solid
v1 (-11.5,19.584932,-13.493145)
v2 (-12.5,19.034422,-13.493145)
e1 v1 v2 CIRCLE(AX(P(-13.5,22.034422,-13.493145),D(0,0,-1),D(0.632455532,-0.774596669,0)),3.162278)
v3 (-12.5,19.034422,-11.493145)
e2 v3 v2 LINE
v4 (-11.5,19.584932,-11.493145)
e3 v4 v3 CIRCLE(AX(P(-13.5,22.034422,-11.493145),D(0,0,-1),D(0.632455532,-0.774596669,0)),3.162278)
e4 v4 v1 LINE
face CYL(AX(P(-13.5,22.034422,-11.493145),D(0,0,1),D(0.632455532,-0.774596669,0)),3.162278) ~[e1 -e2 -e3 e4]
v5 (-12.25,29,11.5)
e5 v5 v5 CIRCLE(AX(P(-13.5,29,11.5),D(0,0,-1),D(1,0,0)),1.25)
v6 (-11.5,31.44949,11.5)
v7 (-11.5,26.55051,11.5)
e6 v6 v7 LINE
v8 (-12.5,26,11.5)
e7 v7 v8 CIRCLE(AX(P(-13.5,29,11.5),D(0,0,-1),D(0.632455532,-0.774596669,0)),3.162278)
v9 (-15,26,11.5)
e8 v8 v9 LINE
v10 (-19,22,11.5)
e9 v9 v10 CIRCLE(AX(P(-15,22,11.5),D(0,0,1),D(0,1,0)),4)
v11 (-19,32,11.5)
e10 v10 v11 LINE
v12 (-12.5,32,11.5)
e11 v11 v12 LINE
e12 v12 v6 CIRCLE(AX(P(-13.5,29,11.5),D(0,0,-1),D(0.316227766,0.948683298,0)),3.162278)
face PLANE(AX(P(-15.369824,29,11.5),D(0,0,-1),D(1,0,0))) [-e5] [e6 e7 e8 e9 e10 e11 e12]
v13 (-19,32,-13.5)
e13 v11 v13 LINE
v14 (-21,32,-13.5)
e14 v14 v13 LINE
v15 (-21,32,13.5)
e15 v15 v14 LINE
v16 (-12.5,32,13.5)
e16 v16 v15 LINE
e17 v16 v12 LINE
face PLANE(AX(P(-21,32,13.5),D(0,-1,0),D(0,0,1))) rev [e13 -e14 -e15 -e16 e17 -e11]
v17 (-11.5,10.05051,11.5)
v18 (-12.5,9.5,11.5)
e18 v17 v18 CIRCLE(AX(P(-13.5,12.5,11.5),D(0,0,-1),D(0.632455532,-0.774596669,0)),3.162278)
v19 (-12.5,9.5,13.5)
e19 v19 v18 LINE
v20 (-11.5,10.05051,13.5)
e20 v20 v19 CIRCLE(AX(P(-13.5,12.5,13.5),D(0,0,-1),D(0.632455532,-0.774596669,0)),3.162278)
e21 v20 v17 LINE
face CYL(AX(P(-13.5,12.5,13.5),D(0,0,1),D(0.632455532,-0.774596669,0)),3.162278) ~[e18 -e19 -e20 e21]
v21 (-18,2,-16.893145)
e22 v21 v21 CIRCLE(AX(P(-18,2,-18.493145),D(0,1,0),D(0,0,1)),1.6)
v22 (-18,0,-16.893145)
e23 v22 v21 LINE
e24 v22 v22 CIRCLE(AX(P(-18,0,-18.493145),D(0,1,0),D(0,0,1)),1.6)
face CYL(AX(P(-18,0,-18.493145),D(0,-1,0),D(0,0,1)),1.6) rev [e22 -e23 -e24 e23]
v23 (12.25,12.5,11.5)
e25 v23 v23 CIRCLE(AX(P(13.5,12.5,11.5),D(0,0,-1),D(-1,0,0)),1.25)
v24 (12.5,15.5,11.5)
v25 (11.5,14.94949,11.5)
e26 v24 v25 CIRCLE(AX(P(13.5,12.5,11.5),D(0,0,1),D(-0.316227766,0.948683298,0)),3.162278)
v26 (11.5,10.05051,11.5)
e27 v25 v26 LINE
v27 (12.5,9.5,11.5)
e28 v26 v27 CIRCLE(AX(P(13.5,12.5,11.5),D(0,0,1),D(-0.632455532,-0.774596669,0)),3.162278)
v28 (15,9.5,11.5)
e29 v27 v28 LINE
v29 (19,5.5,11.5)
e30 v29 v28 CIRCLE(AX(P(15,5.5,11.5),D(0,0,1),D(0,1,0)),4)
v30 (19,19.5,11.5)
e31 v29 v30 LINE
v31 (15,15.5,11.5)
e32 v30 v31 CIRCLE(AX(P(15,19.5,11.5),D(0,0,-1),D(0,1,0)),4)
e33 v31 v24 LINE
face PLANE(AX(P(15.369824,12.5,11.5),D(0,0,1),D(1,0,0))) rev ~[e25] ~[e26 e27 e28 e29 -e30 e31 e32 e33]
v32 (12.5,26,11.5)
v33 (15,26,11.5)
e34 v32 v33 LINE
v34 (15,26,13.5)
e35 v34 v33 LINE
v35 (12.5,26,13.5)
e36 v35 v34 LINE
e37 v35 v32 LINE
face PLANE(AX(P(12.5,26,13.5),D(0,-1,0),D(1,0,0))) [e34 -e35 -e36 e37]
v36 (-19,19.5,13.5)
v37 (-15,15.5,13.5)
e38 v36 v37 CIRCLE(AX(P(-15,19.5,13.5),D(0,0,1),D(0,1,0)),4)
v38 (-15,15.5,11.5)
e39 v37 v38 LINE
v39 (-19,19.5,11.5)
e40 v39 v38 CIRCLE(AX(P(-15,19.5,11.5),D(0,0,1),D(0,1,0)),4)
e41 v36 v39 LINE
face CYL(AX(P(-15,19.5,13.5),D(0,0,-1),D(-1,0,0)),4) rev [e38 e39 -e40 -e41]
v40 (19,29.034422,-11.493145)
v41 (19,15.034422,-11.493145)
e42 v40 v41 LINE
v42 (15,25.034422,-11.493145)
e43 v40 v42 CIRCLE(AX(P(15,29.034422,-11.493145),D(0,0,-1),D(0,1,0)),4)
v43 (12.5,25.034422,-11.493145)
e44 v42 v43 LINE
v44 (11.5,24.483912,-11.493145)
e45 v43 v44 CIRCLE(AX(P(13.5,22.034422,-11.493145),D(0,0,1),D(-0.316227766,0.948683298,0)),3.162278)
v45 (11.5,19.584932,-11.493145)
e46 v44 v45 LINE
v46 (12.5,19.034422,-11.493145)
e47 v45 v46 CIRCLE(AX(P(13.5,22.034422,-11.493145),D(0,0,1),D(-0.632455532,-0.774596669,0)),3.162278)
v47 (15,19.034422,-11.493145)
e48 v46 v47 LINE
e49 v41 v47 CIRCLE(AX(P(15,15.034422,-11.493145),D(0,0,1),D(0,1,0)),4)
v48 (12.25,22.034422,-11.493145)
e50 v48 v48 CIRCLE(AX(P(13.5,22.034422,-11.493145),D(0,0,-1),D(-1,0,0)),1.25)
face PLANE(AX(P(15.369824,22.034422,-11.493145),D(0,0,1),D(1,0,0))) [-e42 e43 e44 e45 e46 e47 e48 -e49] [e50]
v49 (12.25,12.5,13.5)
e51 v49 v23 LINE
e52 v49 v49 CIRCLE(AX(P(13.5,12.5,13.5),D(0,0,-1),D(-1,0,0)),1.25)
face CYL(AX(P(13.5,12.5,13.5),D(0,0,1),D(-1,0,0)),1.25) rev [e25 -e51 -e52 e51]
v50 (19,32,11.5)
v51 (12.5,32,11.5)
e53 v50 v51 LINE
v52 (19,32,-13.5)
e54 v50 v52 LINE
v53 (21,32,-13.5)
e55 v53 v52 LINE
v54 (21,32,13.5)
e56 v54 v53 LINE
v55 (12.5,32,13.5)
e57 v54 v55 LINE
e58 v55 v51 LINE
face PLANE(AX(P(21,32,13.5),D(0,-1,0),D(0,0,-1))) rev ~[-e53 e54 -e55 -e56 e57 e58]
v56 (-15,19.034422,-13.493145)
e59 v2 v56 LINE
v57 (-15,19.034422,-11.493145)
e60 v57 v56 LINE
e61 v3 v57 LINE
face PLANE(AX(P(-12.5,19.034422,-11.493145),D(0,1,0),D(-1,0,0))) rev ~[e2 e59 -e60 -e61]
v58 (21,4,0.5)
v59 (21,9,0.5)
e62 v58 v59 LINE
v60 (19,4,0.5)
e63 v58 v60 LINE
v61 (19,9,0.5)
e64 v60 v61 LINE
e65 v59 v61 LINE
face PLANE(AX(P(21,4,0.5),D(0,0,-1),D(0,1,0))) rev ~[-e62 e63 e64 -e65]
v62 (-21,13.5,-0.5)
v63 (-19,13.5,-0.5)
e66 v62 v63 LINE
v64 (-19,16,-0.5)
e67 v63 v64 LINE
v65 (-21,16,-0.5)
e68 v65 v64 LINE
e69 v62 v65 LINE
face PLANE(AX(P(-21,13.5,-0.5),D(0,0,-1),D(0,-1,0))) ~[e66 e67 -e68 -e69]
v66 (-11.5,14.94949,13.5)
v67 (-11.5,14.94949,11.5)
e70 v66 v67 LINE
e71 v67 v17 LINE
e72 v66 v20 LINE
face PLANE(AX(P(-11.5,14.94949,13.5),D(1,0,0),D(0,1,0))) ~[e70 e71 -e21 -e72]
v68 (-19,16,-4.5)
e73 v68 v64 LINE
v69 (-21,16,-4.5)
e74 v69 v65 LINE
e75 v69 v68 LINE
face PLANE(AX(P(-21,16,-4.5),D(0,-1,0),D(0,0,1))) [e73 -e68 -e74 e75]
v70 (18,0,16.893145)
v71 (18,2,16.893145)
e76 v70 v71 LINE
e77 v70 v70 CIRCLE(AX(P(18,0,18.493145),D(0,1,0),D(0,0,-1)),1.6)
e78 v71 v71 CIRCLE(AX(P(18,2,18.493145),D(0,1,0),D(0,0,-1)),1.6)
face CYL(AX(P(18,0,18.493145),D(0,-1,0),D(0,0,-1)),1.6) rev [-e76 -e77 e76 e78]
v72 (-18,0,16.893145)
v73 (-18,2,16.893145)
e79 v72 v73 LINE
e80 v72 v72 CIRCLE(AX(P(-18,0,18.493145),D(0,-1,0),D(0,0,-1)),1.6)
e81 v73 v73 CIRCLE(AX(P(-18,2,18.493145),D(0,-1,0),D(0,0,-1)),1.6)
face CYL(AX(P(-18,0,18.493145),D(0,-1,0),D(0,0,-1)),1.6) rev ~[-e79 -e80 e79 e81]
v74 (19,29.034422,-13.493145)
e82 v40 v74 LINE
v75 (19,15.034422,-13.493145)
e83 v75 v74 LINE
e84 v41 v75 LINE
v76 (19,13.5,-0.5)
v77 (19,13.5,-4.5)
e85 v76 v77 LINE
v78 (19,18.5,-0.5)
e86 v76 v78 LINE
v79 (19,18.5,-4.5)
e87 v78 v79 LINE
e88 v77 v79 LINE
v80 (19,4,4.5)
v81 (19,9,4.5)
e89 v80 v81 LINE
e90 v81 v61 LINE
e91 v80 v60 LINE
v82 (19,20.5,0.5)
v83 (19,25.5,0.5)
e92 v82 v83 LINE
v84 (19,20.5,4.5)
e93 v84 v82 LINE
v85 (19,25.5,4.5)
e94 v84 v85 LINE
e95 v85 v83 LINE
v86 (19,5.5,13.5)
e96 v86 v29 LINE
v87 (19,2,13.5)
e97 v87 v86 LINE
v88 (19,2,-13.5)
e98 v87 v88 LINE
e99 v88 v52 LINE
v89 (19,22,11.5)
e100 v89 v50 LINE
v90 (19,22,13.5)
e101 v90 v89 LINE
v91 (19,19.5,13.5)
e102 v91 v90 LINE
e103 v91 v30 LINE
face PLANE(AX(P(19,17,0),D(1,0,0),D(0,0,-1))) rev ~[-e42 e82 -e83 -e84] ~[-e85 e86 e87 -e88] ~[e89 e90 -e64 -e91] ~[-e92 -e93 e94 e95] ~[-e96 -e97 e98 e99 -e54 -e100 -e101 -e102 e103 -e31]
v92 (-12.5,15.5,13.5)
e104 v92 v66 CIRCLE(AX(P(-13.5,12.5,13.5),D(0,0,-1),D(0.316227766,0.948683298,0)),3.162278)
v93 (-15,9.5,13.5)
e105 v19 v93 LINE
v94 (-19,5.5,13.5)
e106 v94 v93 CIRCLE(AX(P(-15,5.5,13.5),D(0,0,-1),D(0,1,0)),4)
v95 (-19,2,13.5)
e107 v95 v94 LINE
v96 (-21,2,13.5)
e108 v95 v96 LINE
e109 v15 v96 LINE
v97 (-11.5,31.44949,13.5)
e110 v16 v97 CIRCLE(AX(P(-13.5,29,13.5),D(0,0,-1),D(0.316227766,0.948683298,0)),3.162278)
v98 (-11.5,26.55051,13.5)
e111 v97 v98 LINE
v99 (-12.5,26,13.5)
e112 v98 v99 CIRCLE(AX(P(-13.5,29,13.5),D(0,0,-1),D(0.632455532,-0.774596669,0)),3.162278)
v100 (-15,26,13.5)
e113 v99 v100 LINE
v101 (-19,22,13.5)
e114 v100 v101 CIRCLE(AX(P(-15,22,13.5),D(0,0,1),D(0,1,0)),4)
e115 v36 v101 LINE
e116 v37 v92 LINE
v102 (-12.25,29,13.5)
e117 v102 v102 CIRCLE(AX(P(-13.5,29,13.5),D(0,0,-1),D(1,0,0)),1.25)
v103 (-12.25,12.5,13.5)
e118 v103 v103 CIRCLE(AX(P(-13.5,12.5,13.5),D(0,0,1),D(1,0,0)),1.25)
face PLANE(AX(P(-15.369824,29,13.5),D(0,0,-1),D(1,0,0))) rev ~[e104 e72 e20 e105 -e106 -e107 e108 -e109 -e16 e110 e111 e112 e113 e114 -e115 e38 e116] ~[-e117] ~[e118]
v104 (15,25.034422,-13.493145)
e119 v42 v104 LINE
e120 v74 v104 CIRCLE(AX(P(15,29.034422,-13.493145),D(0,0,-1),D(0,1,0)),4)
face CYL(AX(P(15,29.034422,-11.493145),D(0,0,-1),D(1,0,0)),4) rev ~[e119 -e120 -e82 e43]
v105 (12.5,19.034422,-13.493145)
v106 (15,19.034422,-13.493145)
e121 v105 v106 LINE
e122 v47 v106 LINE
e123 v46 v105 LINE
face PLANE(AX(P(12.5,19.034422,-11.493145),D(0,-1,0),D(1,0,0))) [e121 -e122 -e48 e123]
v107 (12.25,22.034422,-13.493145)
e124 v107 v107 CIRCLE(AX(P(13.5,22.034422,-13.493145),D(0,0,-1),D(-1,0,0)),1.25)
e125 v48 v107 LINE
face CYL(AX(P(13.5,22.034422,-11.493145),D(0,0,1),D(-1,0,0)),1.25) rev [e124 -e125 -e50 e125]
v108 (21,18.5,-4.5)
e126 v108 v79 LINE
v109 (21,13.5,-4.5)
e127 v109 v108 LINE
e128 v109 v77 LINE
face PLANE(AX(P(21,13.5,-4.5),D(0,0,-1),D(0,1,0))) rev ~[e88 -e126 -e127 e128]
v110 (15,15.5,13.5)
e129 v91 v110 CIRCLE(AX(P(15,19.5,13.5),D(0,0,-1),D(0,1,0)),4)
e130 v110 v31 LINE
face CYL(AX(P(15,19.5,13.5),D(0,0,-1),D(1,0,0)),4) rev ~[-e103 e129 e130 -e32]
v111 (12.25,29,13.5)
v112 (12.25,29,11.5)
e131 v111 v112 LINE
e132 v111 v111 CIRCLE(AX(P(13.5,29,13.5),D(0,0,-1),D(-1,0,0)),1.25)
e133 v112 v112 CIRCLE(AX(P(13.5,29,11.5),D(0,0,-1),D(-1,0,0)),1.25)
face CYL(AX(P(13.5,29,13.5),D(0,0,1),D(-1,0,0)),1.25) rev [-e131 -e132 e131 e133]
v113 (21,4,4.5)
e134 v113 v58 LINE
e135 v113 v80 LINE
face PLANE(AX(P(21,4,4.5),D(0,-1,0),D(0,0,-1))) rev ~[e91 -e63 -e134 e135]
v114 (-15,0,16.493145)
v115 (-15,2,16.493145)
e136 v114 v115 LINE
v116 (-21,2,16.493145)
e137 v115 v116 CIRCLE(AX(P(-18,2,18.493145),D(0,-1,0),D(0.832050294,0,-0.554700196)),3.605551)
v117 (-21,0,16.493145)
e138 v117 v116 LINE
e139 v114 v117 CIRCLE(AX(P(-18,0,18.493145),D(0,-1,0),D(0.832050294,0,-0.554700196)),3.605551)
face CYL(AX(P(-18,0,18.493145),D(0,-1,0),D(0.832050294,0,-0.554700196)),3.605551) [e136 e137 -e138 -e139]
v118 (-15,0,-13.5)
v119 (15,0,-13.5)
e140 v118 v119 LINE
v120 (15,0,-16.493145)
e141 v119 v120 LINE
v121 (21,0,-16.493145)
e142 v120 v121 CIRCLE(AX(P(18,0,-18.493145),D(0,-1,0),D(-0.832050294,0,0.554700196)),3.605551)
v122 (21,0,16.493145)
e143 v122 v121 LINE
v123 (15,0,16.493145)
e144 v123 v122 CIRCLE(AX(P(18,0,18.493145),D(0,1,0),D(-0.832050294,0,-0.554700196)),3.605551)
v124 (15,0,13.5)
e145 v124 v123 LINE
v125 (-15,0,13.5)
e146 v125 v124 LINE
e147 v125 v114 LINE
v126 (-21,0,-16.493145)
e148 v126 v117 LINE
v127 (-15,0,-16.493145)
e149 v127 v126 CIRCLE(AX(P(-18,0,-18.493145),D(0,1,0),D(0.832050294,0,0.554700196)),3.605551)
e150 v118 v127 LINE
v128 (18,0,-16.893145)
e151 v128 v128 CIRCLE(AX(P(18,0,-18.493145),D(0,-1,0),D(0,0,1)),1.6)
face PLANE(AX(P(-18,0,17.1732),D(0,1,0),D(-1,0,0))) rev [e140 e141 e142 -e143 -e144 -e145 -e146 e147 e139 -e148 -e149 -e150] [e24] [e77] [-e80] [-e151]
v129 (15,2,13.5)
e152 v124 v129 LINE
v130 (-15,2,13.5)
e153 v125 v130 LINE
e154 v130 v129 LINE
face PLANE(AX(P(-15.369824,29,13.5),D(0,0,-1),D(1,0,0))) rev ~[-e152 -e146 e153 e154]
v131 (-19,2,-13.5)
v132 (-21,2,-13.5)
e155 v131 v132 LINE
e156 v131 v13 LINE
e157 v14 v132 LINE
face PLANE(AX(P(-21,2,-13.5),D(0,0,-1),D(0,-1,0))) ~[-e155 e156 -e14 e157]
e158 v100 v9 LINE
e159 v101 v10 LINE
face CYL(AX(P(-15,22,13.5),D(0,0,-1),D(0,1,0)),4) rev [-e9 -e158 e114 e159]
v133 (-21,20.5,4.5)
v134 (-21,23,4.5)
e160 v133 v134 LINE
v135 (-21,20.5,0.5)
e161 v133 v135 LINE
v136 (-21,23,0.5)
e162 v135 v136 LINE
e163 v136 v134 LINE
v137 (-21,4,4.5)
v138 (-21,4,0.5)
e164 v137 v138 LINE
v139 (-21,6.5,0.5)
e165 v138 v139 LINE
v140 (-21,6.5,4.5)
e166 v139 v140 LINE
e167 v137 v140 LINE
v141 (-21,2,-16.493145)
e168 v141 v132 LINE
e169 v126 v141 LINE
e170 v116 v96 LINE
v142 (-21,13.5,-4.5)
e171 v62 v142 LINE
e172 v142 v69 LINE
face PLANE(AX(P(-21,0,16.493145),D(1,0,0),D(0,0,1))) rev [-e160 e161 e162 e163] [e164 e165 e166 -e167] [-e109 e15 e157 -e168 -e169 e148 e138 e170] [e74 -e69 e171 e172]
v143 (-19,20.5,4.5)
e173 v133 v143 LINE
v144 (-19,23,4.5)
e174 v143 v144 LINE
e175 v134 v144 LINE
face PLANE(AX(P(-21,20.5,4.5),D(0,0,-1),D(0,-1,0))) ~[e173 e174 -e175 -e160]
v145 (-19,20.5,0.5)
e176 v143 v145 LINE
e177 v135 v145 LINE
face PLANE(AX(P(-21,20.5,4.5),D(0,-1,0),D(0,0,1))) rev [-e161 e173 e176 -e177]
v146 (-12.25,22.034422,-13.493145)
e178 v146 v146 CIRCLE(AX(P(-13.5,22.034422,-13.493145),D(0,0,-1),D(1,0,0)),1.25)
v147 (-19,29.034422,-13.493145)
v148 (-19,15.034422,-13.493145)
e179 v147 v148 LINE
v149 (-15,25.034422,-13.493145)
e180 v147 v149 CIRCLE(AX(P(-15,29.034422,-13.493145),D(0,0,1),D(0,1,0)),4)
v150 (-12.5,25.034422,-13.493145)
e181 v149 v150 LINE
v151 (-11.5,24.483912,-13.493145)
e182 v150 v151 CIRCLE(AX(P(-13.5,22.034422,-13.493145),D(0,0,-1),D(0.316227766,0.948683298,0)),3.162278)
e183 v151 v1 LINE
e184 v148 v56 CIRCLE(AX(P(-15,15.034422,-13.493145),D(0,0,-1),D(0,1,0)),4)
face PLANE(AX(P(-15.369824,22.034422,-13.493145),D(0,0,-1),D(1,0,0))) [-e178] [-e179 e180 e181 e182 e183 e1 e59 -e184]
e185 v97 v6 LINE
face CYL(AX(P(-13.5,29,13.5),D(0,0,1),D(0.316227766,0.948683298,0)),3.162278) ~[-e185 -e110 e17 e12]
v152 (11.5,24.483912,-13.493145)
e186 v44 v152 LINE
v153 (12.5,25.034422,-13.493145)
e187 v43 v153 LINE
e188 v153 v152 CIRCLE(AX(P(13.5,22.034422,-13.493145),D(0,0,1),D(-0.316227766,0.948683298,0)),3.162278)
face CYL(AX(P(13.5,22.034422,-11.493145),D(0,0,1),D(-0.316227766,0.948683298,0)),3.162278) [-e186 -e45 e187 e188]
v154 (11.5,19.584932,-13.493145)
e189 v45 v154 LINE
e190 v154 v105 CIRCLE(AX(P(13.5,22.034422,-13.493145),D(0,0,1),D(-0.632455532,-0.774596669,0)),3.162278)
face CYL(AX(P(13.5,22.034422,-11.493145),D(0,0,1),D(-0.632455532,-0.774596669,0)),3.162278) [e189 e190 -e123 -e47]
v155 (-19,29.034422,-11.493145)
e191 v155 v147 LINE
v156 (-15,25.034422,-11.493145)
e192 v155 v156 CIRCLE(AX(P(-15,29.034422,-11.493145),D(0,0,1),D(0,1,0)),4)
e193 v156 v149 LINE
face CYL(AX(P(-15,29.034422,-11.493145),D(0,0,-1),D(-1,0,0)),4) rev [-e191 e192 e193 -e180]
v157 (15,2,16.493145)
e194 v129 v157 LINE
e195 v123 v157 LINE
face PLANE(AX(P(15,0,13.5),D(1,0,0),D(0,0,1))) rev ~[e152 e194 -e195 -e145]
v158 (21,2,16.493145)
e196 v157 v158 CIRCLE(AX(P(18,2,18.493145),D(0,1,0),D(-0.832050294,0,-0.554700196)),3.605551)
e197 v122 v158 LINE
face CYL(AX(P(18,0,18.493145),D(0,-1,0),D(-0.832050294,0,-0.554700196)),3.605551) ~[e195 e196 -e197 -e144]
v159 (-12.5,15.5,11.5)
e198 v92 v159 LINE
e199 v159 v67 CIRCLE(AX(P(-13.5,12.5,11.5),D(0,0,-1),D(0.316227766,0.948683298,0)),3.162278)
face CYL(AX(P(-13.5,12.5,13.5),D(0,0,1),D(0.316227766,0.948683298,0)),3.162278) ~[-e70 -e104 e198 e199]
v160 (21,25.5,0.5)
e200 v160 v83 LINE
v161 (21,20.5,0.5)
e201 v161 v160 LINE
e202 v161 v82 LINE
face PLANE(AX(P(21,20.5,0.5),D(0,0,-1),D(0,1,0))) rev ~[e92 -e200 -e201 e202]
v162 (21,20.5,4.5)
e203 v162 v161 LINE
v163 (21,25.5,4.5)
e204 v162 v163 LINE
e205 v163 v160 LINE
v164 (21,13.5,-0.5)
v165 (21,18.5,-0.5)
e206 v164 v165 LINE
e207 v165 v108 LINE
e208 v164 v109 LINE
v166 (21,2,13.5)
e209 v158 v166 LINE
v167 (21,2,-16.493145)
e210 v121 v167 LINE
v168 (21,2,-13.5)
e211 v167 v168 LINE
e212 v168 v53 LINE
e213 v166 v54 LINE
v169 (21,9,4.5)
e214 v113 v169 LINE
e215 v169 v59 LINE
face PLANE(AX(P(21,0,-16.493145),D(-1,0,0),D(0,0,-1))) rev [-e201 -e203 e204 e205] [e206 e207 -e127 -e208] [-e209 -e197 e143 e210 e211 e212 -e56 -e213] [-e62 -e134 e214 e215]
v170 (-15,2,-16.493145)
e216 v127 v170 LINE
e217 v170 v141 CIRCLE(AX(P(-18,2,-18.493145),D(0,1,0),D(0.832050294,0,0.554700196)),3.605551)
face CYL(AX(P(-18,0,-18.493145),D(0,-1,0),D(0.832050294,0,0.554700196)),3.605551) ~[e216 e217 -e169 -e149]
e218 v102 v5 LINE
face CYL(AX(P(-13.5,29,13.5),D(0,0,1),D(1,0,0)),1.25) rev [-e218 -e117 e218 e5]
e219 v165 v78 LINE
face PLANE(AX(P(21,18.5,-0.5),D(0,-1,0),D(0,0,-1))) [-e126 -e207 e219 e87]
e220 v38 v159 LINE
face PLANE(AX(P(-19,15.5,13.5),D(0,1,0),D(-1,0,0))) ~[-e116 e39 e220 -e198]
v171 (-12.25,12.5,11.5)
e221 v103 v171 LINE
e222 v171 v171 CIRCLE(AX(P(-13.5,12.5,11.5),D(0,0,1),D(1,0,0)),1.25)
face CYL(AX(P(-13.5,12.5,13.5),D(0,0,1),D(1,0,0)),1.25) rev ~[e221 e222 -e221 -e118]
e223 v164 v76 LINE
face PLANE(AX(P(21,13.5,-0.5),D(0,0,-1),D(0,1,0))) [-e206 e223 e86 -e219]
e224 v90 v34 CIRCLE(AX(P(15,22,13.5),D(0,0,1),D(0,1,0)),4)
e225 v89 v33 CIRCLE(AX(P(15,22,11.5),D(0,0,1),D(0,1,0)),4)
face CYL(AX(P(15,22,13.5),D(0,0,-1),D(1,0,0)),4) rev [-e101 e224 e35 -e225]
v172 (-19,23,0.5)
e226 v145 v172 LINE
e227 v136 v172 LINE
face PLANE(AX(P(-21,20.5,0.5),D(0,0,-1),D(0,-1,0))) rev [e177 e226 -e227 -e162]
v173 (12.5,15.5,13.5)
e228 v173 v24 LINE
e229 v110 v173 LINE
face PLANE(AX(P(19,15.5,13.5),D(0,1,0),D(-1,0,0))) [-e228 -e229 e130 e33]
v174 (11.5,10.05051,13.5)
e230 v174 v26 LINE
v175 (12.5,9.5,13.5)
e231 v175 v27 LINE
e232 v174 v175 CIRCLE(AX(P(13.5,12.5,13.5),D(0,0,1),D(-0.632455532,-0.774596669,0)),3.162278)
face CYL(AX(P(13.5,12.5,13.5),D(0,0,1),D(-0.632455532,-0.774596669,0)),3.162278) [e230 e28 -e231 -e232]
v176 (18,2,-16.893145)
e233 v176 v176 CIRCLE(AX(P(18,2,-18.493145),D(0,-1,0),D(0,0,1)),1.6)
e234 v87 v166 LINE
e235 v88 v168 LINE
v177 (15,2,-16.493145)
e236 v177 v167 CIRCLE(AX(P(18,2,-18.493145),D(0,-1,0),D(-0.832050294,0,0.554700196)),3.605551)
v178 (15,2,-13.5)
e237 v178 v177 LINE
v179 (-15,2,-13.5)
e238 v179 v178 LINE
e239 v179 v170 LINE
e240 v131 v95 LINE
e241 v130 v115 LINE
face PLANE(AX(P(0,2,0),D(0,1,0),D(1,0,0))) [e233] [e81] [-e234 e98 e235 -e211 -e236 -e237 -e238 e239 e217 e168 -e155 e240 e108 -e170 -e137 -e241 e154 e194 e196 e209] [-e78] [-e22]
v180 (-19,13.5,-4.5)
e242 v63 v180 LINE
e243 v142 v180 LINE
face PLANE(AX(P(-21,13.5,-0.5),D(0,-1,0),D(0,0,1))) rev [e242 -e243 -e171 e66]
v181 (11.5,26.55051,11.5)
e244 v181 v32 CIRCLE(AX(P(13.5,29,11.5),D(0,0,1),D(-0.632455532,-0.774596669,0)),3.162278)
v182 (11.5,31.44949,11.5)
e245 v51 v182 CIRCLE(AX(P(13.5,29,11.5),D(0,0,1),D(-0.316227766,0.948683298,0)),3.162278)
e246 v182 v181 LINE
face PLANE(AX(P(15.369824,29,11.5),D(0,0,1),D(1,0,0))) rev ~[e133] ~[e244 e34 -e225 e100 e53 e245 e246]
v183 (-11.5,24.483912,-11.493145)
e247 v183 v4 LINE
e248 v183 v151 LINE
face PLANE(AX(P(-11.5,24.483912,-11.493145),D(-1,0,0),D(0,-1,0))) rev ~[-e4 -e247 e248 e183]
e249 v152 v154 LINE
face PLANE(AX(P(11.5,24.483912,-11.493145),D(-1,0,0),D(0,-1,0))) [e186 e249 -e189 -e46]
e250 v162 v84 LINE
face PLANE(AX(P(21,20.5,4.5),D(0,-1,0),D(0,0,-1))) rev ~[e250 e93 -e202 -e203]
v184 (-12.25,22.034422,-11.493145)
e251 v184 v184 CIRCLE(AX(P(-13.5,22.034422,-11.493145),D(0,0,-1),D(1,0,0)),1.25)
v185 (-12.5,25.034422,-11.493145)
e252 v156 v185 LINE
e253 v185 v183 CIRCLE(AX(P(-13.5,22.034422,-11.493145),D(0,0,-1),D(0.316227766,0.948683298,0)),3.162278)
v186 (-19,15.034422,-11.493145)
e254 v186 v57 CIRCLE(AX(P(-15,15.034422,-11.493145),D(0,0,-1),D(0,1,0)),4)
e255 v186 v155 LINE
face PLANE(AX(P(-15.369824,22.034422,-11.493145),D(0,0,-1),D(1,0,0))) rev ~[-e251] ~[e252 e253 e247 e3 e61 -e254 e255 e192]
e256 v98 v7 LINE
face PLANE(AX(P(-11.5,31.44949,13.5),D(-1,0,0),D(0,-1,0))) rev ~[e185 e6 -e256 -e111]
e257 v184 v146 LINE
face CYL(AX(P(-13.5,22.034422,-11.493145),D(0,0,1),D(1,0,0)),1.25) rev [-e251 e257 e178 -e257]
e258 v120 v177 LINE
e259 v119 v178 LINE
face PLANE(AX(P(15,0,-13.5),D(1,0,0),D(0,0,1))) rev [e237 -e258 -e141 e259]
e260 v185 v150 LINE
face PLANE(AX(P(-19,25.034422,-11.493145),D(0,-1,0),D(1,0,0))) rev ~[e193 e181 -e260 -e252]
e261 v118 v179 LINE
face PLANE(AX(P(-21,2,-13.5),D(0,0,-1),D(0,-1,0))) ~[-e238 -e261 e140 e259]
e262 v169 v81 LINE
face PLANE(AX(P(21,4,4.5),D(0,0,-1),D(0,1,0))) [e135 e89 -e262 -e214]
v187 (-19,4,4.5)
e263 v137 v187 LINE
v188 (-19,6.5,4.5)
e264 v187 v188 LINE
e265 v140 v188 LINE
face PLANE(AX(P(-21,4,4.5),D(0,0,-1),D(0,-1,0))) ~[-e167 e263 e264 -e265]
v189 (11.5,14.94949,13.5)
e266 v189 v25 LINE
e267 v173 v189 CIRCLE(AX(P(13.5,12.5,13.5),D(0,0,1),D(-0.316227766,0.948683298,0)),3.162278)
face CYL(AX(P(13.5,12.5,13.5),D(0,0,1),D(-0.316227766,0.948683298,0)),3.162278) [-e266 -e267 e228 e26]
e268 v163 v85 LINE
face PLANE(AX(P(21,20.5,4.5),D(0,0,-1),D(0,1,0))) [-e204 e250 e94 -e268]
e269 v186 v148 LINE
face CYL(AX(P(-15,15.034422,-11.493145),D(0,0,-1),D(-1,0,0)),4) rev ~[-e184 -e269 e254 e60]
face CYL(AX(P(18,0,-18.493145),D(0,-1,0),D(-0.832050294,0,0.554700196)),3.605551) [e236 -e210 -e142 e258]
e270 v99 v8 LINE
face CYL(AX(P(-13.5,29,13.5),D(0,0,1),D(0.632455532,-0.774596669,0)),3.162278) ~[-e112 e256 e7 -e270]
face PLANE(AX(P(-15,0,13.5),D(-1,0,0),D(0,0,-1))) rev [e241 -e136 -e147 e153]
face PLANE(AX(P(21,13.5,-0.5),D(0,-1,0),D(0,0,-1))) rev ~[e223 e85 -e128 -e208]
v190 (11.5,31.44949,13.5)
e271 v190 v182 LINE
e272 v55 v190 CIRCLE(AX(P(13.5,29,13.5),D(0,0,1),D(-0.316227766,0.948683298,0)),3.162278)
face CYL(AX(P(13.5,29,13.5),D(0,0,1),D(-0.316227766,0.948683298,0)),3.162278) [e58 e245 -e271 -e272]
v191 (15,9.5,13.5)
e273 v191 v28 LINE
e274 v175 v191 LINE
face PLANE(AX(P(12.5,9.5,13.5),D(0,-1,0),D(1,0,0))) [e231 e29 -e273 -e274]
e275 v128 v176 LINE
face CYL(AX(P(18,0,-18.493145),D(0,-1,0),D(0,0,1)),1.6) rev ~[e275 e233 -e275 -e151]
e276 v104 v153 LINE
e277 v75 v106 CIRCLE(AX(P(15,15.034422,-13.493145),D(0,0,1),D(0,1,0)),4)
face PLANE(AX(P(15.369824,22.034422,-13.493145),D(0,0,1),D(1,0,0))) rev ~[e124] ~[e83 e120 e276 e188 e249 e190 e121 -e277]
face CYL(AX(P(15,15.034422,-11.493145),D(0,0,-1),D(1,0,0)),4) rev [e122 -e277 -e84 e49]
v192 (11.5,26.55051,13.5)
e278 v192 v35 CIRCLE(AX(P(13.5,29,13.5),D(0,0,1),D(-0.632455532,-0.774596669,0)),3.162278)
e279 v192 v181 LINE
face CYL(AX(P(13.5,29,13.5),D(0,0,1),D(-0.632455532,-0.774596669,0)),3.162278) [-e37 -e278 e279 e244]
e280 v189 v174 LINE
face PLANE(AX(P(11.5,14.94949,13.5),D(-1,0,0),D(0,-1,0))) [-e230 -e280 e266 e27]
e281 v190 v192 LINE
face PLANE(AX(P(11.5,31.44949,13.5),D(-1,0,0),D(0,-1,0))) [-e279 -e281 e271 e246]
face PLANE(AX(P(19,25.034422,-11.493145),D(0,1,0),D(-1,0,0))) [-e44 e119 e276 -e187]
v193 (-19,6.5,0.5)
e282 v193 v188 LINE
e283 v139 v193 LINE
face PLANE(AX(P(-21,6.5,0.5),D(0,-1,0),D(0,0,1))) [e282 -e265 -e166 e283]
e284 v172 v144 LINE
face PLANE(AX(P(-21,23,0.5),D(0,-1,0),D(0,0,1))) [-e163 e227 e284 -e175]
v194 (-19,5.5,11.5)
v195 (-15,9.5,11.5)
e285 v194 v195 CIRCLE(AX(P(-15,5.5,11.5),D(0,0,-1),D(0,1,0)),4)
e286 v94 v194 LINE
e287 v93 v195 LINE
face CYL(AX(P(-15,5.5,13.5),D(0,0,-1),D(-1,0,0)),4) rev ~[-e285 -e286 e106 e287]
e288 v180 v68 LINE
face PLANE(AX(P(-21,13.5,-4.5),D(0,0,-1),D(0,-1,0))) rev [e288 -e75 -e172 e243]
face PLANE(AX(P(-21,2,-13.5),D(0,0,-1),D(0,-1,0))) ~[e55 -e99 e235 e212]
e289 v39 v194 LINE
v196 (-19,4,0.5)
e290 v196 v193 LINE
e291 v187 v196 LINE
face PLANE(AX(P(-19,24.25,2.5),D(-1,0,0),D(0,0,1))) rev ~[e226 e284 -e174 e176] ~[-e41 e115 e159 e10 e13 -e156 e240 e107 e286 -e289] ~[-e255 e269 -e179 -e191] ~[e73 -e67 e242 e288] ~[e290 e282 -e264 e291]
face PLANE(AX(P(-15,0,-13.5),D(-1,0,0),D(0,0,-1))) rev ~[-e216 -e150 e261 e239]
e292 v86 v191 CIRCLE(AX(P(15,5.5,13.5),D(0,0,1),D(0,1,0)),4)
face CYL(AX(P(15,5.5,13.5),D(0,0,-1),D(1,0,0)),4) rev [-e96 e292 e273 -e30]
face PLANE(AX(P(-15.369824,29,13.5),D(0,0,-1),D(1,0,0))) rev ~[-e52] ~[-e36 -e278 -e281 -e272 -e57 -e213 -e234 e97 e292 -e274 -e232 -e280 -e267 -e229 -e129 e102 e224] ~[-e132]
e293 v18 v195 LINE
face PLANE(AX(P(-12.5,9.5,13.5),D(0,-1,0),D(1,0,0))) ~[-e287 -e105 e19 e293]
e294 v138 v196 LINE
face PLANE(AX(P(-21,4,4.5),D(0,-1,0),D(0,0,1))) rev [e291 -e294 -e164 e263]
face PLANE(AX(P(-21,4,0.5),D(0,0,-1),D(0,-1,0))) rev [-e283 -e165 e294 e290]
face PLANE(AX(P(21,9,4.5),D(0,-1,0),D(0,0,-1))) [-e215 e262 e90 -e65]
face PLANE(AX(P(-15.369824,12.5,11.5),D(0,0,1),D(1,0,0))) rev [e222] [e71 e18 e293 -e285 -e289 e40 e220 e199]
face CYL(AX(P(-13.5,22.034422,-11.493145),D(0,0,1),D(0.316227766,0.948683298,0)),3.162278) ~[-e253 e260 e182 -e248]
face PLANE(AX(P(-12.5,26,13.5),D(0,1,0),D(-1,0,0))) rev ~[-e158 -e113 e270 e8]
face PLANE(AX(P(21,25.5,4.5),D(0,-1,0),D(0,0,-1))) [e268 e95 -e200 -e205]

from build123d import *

# Parameters (mm, degrees)
SKETCH_1_W                       = 42
SKETCH_1_H                       = 27
EXTRUDE_1_DEPTH                  = 2
SKETCH_2_W                       = 27
SKETCH_2_H                       = 30
SKETCH_2_W_2                     = 4
SKETCH_2_H_2                     = 5
EXTRUDE_2_DEPTH                  = 2
SKETCH_3_W                       = 4
SKETCH_3_H                       = 2.5
EXTRUDE_3_DEPTH                  = 2
SKETCH_4_R                       = 1.25
EXTRUDE_4_DEPTH                  = 2
PATTERN_LINEAR_1_COUNT           = 2
PATTERN_LINEAR_1_PITCH           = 16.5
PATTERN_LINEAR_1_COPY_1_SKETCH_R = 1.25
PATTERN_LINEAR_1_COPY_1_DEPTH    = 2
PATTERN_LINEAR_2_COUNT           = 2
PATTERN_LINEAR_2_PITCH           = 26.75
PATTERN_LINEAR_2_COPY_1_SKETCH_R = 1.25
PATTERN_LINEAR_2_COPY_1_DEPTH    = 2
FILLET_1_R                       = 4
SKETCH_8_R                       = 1.6
EXTRUDE_5_DEPTH                  = 2
MIRROR_4_COPY_1_SKETCH_R         = 1.6
MIRROR_4_COPY_1_DEPTH            = 2


with BuildPart() as part:
    # Эскиз1 → Бобышка-Вытянуть1 (new body)
    with BuildSketch(Plane(origin=(0, 0, 0), x_dir=(1, 0, 0), z_dir=(0, 1, 0))):
        Rectangle(SKETCH_1_W, SKETCH_1_H)
    extrude(amount=EXTRUDE_1_DEPTH)

    # Эскиз2 → Бобышка-Вытянуть2 (add)
    with BuildSketch(Plane(origin=(21, 0, 0), x_dir=(0, 0, -1), z_dir=(1, 0, 0))):
        with Locations((0, 17)):
            Rectangle(SKETCH_2_W, SKETCH_2_H)
        with Locations((-2.5, 6.5)):
            Rectangle(SKETCH_2_W_2, SKETCH_2_H_2, mode=Mode.SUBTRACT)
        with Locations((2.5, 16)):
            Rectangle(SKETCH_2_W_2, SKETCH_2_H_2, mode=Mode.SUBTRACT)
        with Locations((-2.5, 23)):
            Rectangle(SKETCH_2_W_2, SKETCH_2_H_2, mode=Mode.SUBTRACT)
    extrude_2 = extrude(amount=-EXTRUDE_2_DEPTH)

    # Зеркальное отражение1: Бобышка-Вытянуть2 across plane
    add(extrude_2.mirror(Plane(origin=(0, 0, 0), x_dir=(0, 0, 1), z_dir=(1, 0, 0))))

    # Эскиз3 → Бобышка-Вытянуть3 (add)
    with BuildSketch(Plane.ZY.offset(21)):
        with Locations((2.5, 24.25)):
            Rectangle(SKETCH_3_W, SKETCH_3_H)
        with Locations((-2.5, 17.25)):
            Rectangle(SKETCH_3_W, SKETCH_3_H)
        with Locations((2.5, 7.75)):
            Rectangle(SKETCH_3_W, SKETCH_3_H)
    extrude(amount=-EXTRUDE_3_DEPTH)

    # Эскиз4 → Бобышка-Вытянуть4 (add)
    with BuildSketch(Plane(origin=(0, 0, 13.5), x_dir=(-1, 0, 0), z_dir=(0, 0, -1))):
        with BuildLine():
            Line((-19, 9.5), (-19, 15.5))
            Line((-19, 15.5), (-12.5, 15.5))
            ThreePointArc((-12.5, 15.5), (-11.974953973, 15.270240895), (-11.5, 14.949489743))
            Line((-11.5, 14.949489743), (-11.5, 10.050510257))
            ThreePointArc((-11.5, 10.050510257), (-11.974953973, 9.729759105), (-12.5, 9.5))
            Line((-12.5, 9.5), (-19, 9.5))
        make_face()
        with Locations((-13.5, 12.5)):
            Circle(SKETCH_4_R, mode=Mode.SUBTRACT)
    extrude_4 = extrude(amount=EXTRUDE_4_DEPTH)

    # Зеркальное отражение2: Бобышка-Вытянуть4 across plane
    add(extrude_4.mirror(Plane(origin=(0, 0, 0), x_dir=(0, 0, 1), z_dir=(1, 0, 0))))

    # Линейный массив1: Бобышка-Вытянуть4 ×2
    with Locations(*[(0, i * PATTERN_LINEAR_1_PITCH, 0) for i in range(1, PATTERN_LINEAR_1_COUNT)]):
        add(extrude_4)

    # Линейный массив1 copy 1 sketch → Линейный массив1 copy 1 (add)
    with BuildSketch(Plane(origin=(0, 16.5, 13.5), x_dir=(1, 0, 0), z_dir=(0, 0, -1))):
        with BuildLine():
            Line((-19, -9.5), (-19, -15.5))
            Line((-19, -15.5), (-12.5, -15.5))
            ThreePointArc((-12.5, -15.5), (-11.974953973, -15.270240895), (-11.5, -14.949489743))
            Line((-11.5, -14.949489743), (-11.5, -10.050510257))
            ThreePointArc((-11.5, -10.050510257), (-11.974953973, -9.729759105), (-12.5, -9.5))
            Line((-12.5, -9.5), (-19, -9.5))
        make_face()
        with Locations((-13.5, -12.5)):
            Circle(PATTERN_LINEAR_1_COPY_1_SKETCH_R, mode=Mode.SUBTRACT)
    extrude(amount=PATTERN_LINEAR_1_COPY_1_DEPTH)

    # Линейный массив2: Бобышка-Вытянуть4 ×2
    with Locations(*[Vector(0, 0.3564269900834672, -0.9343231778887005) * (i * PATTERN_LINEAR_2_PITCH) for i in range(1, PATTERN_LINEAR_2_COUNT)]):
        add(extrude_4)

    # Линейный массив2 copy 1 sketch → Линейный массив2 copy 1 (add)
    with BuildSketch(Plane(origin=(0, 9.534421985, -11.493145009), x_dir=(1, 0, 0), z_dir=(0, 0, -1))):
        with BuildLine():
            Line((-19, -9.5), (-19, -15.5))
            Line((-19, -15.5), (-12.5, -15.5))
            ThreePointArc((-12.5, -15.5), (-11.974953973, -15.270240895), (-11.5, -14.949489743))
            Line((-11.5, -14.949489743), (-11.5, -10.050510257))
            ThreePointArc((-11.5, -10.050510257), (-11.974953973, -9.729759105), (-12.5, -9.5))
            Line((-12.5, -9.5), (-19, -9.5))
        make_face()
        with Locations((-13.5, -12.5)):
            Circle(PATTERN_LINEAR_2_COPY_1_SKETCH_R, mode=Mode.SUBTRACT)
    extrude(amount=PATTERN_LINEAR_2_COPY_1_DEPTH)

    # Скругление1
    fillet_1_edges = [part.edges().sort_by_distance(p)[0] for p in [
        (19, 15.5, 12.5),
        (19, 9.5, 12.5),
        (-19, 9.5, 12.5),
        (-19, 15.5, 12.5),
        (-19, 26, 12.5),
        (19, 26, 12.5),
        (-19, 19.034421985, -12.493145009),
        (-19, 25.034421985, -12.493145009),
        (19, 25.034421985, -12.493145009),
        (19, 19.034421985, -12.493145009),
    ]]
    fillet(fillet_1_edges, radius=FILLET_1_R)

    # Эскиз8 → Бобышка-Вытянуть5 (add)
    with BuildSketch(Plane(origin=(0, 0, 0), x_dir=(1, 0, 0), z_dir=(0, 1, 0))):
        with BuildLine():
            Line((-21, 13.5), (-18, 13.493145009))
            Line((-18, 13.493145009), (-15, 13.5))
            Line((-15, 13.5), (-15, 16.493145009))
            ThreePointArc((-15, 16.493145009), (-18, 22.098696284), (-21, 16.493145009))
            Line((-21, 16.493145009), (-21, 13.5))
        make_face()
        with Locations(Location((-18, 18.493145009, 0), (0, 0, 270))):
            Circle(SKETCH_8_R, mode=Mode.SUBTRACT)
    extrude_5 = extrude(amount=EXTRUDE_5_DEPTH)

    # Зеркальное отражение3: Бобышка-Вытянуть5 across plane
    add(extrude_5.mirror(Plane(origin=(0, 0, 0), x_dir=(0, 0, 1), z_dir=(1, 0, 0))))

    # Зеркальное отражение4: Бобышка-Вытянуть5 across plane
    add(extrude_5.mirror(Plane.XY))

    # Зеркальное отражение4 copy 1 sketch → Зеркальное отражение4 copy 1 (add)
    with BuildSketch(Plane(origin=(0, 0, 0), x_dir=(-1, 0, 0), z_dir=(0, 1, 0))):
        with BuildLine():
            Line((-21, 13.5), (-18, 13.493145009))
            Line((-18, 13.493145009), (-15, 13.5))
            Line((-15, 13.5), (-15, 16.493145009))
            ThreePointArc((-15, 16.493145009), (-18, 22.098696284), (-21, 16.493145009))
            Line((-21, 16.493145009), (-21, 13.5))
        make_face()
        with Locations(Location((-18, 18.493145009, 0), (0, 0, 270))):
            Circle(MIRROR_4_COPY_1_SKETCH_R, mode=Mode.SUBTRACT)
    extrude(amount=MIRROR_4_COPY_1_DEPTH)


solid = part.part
